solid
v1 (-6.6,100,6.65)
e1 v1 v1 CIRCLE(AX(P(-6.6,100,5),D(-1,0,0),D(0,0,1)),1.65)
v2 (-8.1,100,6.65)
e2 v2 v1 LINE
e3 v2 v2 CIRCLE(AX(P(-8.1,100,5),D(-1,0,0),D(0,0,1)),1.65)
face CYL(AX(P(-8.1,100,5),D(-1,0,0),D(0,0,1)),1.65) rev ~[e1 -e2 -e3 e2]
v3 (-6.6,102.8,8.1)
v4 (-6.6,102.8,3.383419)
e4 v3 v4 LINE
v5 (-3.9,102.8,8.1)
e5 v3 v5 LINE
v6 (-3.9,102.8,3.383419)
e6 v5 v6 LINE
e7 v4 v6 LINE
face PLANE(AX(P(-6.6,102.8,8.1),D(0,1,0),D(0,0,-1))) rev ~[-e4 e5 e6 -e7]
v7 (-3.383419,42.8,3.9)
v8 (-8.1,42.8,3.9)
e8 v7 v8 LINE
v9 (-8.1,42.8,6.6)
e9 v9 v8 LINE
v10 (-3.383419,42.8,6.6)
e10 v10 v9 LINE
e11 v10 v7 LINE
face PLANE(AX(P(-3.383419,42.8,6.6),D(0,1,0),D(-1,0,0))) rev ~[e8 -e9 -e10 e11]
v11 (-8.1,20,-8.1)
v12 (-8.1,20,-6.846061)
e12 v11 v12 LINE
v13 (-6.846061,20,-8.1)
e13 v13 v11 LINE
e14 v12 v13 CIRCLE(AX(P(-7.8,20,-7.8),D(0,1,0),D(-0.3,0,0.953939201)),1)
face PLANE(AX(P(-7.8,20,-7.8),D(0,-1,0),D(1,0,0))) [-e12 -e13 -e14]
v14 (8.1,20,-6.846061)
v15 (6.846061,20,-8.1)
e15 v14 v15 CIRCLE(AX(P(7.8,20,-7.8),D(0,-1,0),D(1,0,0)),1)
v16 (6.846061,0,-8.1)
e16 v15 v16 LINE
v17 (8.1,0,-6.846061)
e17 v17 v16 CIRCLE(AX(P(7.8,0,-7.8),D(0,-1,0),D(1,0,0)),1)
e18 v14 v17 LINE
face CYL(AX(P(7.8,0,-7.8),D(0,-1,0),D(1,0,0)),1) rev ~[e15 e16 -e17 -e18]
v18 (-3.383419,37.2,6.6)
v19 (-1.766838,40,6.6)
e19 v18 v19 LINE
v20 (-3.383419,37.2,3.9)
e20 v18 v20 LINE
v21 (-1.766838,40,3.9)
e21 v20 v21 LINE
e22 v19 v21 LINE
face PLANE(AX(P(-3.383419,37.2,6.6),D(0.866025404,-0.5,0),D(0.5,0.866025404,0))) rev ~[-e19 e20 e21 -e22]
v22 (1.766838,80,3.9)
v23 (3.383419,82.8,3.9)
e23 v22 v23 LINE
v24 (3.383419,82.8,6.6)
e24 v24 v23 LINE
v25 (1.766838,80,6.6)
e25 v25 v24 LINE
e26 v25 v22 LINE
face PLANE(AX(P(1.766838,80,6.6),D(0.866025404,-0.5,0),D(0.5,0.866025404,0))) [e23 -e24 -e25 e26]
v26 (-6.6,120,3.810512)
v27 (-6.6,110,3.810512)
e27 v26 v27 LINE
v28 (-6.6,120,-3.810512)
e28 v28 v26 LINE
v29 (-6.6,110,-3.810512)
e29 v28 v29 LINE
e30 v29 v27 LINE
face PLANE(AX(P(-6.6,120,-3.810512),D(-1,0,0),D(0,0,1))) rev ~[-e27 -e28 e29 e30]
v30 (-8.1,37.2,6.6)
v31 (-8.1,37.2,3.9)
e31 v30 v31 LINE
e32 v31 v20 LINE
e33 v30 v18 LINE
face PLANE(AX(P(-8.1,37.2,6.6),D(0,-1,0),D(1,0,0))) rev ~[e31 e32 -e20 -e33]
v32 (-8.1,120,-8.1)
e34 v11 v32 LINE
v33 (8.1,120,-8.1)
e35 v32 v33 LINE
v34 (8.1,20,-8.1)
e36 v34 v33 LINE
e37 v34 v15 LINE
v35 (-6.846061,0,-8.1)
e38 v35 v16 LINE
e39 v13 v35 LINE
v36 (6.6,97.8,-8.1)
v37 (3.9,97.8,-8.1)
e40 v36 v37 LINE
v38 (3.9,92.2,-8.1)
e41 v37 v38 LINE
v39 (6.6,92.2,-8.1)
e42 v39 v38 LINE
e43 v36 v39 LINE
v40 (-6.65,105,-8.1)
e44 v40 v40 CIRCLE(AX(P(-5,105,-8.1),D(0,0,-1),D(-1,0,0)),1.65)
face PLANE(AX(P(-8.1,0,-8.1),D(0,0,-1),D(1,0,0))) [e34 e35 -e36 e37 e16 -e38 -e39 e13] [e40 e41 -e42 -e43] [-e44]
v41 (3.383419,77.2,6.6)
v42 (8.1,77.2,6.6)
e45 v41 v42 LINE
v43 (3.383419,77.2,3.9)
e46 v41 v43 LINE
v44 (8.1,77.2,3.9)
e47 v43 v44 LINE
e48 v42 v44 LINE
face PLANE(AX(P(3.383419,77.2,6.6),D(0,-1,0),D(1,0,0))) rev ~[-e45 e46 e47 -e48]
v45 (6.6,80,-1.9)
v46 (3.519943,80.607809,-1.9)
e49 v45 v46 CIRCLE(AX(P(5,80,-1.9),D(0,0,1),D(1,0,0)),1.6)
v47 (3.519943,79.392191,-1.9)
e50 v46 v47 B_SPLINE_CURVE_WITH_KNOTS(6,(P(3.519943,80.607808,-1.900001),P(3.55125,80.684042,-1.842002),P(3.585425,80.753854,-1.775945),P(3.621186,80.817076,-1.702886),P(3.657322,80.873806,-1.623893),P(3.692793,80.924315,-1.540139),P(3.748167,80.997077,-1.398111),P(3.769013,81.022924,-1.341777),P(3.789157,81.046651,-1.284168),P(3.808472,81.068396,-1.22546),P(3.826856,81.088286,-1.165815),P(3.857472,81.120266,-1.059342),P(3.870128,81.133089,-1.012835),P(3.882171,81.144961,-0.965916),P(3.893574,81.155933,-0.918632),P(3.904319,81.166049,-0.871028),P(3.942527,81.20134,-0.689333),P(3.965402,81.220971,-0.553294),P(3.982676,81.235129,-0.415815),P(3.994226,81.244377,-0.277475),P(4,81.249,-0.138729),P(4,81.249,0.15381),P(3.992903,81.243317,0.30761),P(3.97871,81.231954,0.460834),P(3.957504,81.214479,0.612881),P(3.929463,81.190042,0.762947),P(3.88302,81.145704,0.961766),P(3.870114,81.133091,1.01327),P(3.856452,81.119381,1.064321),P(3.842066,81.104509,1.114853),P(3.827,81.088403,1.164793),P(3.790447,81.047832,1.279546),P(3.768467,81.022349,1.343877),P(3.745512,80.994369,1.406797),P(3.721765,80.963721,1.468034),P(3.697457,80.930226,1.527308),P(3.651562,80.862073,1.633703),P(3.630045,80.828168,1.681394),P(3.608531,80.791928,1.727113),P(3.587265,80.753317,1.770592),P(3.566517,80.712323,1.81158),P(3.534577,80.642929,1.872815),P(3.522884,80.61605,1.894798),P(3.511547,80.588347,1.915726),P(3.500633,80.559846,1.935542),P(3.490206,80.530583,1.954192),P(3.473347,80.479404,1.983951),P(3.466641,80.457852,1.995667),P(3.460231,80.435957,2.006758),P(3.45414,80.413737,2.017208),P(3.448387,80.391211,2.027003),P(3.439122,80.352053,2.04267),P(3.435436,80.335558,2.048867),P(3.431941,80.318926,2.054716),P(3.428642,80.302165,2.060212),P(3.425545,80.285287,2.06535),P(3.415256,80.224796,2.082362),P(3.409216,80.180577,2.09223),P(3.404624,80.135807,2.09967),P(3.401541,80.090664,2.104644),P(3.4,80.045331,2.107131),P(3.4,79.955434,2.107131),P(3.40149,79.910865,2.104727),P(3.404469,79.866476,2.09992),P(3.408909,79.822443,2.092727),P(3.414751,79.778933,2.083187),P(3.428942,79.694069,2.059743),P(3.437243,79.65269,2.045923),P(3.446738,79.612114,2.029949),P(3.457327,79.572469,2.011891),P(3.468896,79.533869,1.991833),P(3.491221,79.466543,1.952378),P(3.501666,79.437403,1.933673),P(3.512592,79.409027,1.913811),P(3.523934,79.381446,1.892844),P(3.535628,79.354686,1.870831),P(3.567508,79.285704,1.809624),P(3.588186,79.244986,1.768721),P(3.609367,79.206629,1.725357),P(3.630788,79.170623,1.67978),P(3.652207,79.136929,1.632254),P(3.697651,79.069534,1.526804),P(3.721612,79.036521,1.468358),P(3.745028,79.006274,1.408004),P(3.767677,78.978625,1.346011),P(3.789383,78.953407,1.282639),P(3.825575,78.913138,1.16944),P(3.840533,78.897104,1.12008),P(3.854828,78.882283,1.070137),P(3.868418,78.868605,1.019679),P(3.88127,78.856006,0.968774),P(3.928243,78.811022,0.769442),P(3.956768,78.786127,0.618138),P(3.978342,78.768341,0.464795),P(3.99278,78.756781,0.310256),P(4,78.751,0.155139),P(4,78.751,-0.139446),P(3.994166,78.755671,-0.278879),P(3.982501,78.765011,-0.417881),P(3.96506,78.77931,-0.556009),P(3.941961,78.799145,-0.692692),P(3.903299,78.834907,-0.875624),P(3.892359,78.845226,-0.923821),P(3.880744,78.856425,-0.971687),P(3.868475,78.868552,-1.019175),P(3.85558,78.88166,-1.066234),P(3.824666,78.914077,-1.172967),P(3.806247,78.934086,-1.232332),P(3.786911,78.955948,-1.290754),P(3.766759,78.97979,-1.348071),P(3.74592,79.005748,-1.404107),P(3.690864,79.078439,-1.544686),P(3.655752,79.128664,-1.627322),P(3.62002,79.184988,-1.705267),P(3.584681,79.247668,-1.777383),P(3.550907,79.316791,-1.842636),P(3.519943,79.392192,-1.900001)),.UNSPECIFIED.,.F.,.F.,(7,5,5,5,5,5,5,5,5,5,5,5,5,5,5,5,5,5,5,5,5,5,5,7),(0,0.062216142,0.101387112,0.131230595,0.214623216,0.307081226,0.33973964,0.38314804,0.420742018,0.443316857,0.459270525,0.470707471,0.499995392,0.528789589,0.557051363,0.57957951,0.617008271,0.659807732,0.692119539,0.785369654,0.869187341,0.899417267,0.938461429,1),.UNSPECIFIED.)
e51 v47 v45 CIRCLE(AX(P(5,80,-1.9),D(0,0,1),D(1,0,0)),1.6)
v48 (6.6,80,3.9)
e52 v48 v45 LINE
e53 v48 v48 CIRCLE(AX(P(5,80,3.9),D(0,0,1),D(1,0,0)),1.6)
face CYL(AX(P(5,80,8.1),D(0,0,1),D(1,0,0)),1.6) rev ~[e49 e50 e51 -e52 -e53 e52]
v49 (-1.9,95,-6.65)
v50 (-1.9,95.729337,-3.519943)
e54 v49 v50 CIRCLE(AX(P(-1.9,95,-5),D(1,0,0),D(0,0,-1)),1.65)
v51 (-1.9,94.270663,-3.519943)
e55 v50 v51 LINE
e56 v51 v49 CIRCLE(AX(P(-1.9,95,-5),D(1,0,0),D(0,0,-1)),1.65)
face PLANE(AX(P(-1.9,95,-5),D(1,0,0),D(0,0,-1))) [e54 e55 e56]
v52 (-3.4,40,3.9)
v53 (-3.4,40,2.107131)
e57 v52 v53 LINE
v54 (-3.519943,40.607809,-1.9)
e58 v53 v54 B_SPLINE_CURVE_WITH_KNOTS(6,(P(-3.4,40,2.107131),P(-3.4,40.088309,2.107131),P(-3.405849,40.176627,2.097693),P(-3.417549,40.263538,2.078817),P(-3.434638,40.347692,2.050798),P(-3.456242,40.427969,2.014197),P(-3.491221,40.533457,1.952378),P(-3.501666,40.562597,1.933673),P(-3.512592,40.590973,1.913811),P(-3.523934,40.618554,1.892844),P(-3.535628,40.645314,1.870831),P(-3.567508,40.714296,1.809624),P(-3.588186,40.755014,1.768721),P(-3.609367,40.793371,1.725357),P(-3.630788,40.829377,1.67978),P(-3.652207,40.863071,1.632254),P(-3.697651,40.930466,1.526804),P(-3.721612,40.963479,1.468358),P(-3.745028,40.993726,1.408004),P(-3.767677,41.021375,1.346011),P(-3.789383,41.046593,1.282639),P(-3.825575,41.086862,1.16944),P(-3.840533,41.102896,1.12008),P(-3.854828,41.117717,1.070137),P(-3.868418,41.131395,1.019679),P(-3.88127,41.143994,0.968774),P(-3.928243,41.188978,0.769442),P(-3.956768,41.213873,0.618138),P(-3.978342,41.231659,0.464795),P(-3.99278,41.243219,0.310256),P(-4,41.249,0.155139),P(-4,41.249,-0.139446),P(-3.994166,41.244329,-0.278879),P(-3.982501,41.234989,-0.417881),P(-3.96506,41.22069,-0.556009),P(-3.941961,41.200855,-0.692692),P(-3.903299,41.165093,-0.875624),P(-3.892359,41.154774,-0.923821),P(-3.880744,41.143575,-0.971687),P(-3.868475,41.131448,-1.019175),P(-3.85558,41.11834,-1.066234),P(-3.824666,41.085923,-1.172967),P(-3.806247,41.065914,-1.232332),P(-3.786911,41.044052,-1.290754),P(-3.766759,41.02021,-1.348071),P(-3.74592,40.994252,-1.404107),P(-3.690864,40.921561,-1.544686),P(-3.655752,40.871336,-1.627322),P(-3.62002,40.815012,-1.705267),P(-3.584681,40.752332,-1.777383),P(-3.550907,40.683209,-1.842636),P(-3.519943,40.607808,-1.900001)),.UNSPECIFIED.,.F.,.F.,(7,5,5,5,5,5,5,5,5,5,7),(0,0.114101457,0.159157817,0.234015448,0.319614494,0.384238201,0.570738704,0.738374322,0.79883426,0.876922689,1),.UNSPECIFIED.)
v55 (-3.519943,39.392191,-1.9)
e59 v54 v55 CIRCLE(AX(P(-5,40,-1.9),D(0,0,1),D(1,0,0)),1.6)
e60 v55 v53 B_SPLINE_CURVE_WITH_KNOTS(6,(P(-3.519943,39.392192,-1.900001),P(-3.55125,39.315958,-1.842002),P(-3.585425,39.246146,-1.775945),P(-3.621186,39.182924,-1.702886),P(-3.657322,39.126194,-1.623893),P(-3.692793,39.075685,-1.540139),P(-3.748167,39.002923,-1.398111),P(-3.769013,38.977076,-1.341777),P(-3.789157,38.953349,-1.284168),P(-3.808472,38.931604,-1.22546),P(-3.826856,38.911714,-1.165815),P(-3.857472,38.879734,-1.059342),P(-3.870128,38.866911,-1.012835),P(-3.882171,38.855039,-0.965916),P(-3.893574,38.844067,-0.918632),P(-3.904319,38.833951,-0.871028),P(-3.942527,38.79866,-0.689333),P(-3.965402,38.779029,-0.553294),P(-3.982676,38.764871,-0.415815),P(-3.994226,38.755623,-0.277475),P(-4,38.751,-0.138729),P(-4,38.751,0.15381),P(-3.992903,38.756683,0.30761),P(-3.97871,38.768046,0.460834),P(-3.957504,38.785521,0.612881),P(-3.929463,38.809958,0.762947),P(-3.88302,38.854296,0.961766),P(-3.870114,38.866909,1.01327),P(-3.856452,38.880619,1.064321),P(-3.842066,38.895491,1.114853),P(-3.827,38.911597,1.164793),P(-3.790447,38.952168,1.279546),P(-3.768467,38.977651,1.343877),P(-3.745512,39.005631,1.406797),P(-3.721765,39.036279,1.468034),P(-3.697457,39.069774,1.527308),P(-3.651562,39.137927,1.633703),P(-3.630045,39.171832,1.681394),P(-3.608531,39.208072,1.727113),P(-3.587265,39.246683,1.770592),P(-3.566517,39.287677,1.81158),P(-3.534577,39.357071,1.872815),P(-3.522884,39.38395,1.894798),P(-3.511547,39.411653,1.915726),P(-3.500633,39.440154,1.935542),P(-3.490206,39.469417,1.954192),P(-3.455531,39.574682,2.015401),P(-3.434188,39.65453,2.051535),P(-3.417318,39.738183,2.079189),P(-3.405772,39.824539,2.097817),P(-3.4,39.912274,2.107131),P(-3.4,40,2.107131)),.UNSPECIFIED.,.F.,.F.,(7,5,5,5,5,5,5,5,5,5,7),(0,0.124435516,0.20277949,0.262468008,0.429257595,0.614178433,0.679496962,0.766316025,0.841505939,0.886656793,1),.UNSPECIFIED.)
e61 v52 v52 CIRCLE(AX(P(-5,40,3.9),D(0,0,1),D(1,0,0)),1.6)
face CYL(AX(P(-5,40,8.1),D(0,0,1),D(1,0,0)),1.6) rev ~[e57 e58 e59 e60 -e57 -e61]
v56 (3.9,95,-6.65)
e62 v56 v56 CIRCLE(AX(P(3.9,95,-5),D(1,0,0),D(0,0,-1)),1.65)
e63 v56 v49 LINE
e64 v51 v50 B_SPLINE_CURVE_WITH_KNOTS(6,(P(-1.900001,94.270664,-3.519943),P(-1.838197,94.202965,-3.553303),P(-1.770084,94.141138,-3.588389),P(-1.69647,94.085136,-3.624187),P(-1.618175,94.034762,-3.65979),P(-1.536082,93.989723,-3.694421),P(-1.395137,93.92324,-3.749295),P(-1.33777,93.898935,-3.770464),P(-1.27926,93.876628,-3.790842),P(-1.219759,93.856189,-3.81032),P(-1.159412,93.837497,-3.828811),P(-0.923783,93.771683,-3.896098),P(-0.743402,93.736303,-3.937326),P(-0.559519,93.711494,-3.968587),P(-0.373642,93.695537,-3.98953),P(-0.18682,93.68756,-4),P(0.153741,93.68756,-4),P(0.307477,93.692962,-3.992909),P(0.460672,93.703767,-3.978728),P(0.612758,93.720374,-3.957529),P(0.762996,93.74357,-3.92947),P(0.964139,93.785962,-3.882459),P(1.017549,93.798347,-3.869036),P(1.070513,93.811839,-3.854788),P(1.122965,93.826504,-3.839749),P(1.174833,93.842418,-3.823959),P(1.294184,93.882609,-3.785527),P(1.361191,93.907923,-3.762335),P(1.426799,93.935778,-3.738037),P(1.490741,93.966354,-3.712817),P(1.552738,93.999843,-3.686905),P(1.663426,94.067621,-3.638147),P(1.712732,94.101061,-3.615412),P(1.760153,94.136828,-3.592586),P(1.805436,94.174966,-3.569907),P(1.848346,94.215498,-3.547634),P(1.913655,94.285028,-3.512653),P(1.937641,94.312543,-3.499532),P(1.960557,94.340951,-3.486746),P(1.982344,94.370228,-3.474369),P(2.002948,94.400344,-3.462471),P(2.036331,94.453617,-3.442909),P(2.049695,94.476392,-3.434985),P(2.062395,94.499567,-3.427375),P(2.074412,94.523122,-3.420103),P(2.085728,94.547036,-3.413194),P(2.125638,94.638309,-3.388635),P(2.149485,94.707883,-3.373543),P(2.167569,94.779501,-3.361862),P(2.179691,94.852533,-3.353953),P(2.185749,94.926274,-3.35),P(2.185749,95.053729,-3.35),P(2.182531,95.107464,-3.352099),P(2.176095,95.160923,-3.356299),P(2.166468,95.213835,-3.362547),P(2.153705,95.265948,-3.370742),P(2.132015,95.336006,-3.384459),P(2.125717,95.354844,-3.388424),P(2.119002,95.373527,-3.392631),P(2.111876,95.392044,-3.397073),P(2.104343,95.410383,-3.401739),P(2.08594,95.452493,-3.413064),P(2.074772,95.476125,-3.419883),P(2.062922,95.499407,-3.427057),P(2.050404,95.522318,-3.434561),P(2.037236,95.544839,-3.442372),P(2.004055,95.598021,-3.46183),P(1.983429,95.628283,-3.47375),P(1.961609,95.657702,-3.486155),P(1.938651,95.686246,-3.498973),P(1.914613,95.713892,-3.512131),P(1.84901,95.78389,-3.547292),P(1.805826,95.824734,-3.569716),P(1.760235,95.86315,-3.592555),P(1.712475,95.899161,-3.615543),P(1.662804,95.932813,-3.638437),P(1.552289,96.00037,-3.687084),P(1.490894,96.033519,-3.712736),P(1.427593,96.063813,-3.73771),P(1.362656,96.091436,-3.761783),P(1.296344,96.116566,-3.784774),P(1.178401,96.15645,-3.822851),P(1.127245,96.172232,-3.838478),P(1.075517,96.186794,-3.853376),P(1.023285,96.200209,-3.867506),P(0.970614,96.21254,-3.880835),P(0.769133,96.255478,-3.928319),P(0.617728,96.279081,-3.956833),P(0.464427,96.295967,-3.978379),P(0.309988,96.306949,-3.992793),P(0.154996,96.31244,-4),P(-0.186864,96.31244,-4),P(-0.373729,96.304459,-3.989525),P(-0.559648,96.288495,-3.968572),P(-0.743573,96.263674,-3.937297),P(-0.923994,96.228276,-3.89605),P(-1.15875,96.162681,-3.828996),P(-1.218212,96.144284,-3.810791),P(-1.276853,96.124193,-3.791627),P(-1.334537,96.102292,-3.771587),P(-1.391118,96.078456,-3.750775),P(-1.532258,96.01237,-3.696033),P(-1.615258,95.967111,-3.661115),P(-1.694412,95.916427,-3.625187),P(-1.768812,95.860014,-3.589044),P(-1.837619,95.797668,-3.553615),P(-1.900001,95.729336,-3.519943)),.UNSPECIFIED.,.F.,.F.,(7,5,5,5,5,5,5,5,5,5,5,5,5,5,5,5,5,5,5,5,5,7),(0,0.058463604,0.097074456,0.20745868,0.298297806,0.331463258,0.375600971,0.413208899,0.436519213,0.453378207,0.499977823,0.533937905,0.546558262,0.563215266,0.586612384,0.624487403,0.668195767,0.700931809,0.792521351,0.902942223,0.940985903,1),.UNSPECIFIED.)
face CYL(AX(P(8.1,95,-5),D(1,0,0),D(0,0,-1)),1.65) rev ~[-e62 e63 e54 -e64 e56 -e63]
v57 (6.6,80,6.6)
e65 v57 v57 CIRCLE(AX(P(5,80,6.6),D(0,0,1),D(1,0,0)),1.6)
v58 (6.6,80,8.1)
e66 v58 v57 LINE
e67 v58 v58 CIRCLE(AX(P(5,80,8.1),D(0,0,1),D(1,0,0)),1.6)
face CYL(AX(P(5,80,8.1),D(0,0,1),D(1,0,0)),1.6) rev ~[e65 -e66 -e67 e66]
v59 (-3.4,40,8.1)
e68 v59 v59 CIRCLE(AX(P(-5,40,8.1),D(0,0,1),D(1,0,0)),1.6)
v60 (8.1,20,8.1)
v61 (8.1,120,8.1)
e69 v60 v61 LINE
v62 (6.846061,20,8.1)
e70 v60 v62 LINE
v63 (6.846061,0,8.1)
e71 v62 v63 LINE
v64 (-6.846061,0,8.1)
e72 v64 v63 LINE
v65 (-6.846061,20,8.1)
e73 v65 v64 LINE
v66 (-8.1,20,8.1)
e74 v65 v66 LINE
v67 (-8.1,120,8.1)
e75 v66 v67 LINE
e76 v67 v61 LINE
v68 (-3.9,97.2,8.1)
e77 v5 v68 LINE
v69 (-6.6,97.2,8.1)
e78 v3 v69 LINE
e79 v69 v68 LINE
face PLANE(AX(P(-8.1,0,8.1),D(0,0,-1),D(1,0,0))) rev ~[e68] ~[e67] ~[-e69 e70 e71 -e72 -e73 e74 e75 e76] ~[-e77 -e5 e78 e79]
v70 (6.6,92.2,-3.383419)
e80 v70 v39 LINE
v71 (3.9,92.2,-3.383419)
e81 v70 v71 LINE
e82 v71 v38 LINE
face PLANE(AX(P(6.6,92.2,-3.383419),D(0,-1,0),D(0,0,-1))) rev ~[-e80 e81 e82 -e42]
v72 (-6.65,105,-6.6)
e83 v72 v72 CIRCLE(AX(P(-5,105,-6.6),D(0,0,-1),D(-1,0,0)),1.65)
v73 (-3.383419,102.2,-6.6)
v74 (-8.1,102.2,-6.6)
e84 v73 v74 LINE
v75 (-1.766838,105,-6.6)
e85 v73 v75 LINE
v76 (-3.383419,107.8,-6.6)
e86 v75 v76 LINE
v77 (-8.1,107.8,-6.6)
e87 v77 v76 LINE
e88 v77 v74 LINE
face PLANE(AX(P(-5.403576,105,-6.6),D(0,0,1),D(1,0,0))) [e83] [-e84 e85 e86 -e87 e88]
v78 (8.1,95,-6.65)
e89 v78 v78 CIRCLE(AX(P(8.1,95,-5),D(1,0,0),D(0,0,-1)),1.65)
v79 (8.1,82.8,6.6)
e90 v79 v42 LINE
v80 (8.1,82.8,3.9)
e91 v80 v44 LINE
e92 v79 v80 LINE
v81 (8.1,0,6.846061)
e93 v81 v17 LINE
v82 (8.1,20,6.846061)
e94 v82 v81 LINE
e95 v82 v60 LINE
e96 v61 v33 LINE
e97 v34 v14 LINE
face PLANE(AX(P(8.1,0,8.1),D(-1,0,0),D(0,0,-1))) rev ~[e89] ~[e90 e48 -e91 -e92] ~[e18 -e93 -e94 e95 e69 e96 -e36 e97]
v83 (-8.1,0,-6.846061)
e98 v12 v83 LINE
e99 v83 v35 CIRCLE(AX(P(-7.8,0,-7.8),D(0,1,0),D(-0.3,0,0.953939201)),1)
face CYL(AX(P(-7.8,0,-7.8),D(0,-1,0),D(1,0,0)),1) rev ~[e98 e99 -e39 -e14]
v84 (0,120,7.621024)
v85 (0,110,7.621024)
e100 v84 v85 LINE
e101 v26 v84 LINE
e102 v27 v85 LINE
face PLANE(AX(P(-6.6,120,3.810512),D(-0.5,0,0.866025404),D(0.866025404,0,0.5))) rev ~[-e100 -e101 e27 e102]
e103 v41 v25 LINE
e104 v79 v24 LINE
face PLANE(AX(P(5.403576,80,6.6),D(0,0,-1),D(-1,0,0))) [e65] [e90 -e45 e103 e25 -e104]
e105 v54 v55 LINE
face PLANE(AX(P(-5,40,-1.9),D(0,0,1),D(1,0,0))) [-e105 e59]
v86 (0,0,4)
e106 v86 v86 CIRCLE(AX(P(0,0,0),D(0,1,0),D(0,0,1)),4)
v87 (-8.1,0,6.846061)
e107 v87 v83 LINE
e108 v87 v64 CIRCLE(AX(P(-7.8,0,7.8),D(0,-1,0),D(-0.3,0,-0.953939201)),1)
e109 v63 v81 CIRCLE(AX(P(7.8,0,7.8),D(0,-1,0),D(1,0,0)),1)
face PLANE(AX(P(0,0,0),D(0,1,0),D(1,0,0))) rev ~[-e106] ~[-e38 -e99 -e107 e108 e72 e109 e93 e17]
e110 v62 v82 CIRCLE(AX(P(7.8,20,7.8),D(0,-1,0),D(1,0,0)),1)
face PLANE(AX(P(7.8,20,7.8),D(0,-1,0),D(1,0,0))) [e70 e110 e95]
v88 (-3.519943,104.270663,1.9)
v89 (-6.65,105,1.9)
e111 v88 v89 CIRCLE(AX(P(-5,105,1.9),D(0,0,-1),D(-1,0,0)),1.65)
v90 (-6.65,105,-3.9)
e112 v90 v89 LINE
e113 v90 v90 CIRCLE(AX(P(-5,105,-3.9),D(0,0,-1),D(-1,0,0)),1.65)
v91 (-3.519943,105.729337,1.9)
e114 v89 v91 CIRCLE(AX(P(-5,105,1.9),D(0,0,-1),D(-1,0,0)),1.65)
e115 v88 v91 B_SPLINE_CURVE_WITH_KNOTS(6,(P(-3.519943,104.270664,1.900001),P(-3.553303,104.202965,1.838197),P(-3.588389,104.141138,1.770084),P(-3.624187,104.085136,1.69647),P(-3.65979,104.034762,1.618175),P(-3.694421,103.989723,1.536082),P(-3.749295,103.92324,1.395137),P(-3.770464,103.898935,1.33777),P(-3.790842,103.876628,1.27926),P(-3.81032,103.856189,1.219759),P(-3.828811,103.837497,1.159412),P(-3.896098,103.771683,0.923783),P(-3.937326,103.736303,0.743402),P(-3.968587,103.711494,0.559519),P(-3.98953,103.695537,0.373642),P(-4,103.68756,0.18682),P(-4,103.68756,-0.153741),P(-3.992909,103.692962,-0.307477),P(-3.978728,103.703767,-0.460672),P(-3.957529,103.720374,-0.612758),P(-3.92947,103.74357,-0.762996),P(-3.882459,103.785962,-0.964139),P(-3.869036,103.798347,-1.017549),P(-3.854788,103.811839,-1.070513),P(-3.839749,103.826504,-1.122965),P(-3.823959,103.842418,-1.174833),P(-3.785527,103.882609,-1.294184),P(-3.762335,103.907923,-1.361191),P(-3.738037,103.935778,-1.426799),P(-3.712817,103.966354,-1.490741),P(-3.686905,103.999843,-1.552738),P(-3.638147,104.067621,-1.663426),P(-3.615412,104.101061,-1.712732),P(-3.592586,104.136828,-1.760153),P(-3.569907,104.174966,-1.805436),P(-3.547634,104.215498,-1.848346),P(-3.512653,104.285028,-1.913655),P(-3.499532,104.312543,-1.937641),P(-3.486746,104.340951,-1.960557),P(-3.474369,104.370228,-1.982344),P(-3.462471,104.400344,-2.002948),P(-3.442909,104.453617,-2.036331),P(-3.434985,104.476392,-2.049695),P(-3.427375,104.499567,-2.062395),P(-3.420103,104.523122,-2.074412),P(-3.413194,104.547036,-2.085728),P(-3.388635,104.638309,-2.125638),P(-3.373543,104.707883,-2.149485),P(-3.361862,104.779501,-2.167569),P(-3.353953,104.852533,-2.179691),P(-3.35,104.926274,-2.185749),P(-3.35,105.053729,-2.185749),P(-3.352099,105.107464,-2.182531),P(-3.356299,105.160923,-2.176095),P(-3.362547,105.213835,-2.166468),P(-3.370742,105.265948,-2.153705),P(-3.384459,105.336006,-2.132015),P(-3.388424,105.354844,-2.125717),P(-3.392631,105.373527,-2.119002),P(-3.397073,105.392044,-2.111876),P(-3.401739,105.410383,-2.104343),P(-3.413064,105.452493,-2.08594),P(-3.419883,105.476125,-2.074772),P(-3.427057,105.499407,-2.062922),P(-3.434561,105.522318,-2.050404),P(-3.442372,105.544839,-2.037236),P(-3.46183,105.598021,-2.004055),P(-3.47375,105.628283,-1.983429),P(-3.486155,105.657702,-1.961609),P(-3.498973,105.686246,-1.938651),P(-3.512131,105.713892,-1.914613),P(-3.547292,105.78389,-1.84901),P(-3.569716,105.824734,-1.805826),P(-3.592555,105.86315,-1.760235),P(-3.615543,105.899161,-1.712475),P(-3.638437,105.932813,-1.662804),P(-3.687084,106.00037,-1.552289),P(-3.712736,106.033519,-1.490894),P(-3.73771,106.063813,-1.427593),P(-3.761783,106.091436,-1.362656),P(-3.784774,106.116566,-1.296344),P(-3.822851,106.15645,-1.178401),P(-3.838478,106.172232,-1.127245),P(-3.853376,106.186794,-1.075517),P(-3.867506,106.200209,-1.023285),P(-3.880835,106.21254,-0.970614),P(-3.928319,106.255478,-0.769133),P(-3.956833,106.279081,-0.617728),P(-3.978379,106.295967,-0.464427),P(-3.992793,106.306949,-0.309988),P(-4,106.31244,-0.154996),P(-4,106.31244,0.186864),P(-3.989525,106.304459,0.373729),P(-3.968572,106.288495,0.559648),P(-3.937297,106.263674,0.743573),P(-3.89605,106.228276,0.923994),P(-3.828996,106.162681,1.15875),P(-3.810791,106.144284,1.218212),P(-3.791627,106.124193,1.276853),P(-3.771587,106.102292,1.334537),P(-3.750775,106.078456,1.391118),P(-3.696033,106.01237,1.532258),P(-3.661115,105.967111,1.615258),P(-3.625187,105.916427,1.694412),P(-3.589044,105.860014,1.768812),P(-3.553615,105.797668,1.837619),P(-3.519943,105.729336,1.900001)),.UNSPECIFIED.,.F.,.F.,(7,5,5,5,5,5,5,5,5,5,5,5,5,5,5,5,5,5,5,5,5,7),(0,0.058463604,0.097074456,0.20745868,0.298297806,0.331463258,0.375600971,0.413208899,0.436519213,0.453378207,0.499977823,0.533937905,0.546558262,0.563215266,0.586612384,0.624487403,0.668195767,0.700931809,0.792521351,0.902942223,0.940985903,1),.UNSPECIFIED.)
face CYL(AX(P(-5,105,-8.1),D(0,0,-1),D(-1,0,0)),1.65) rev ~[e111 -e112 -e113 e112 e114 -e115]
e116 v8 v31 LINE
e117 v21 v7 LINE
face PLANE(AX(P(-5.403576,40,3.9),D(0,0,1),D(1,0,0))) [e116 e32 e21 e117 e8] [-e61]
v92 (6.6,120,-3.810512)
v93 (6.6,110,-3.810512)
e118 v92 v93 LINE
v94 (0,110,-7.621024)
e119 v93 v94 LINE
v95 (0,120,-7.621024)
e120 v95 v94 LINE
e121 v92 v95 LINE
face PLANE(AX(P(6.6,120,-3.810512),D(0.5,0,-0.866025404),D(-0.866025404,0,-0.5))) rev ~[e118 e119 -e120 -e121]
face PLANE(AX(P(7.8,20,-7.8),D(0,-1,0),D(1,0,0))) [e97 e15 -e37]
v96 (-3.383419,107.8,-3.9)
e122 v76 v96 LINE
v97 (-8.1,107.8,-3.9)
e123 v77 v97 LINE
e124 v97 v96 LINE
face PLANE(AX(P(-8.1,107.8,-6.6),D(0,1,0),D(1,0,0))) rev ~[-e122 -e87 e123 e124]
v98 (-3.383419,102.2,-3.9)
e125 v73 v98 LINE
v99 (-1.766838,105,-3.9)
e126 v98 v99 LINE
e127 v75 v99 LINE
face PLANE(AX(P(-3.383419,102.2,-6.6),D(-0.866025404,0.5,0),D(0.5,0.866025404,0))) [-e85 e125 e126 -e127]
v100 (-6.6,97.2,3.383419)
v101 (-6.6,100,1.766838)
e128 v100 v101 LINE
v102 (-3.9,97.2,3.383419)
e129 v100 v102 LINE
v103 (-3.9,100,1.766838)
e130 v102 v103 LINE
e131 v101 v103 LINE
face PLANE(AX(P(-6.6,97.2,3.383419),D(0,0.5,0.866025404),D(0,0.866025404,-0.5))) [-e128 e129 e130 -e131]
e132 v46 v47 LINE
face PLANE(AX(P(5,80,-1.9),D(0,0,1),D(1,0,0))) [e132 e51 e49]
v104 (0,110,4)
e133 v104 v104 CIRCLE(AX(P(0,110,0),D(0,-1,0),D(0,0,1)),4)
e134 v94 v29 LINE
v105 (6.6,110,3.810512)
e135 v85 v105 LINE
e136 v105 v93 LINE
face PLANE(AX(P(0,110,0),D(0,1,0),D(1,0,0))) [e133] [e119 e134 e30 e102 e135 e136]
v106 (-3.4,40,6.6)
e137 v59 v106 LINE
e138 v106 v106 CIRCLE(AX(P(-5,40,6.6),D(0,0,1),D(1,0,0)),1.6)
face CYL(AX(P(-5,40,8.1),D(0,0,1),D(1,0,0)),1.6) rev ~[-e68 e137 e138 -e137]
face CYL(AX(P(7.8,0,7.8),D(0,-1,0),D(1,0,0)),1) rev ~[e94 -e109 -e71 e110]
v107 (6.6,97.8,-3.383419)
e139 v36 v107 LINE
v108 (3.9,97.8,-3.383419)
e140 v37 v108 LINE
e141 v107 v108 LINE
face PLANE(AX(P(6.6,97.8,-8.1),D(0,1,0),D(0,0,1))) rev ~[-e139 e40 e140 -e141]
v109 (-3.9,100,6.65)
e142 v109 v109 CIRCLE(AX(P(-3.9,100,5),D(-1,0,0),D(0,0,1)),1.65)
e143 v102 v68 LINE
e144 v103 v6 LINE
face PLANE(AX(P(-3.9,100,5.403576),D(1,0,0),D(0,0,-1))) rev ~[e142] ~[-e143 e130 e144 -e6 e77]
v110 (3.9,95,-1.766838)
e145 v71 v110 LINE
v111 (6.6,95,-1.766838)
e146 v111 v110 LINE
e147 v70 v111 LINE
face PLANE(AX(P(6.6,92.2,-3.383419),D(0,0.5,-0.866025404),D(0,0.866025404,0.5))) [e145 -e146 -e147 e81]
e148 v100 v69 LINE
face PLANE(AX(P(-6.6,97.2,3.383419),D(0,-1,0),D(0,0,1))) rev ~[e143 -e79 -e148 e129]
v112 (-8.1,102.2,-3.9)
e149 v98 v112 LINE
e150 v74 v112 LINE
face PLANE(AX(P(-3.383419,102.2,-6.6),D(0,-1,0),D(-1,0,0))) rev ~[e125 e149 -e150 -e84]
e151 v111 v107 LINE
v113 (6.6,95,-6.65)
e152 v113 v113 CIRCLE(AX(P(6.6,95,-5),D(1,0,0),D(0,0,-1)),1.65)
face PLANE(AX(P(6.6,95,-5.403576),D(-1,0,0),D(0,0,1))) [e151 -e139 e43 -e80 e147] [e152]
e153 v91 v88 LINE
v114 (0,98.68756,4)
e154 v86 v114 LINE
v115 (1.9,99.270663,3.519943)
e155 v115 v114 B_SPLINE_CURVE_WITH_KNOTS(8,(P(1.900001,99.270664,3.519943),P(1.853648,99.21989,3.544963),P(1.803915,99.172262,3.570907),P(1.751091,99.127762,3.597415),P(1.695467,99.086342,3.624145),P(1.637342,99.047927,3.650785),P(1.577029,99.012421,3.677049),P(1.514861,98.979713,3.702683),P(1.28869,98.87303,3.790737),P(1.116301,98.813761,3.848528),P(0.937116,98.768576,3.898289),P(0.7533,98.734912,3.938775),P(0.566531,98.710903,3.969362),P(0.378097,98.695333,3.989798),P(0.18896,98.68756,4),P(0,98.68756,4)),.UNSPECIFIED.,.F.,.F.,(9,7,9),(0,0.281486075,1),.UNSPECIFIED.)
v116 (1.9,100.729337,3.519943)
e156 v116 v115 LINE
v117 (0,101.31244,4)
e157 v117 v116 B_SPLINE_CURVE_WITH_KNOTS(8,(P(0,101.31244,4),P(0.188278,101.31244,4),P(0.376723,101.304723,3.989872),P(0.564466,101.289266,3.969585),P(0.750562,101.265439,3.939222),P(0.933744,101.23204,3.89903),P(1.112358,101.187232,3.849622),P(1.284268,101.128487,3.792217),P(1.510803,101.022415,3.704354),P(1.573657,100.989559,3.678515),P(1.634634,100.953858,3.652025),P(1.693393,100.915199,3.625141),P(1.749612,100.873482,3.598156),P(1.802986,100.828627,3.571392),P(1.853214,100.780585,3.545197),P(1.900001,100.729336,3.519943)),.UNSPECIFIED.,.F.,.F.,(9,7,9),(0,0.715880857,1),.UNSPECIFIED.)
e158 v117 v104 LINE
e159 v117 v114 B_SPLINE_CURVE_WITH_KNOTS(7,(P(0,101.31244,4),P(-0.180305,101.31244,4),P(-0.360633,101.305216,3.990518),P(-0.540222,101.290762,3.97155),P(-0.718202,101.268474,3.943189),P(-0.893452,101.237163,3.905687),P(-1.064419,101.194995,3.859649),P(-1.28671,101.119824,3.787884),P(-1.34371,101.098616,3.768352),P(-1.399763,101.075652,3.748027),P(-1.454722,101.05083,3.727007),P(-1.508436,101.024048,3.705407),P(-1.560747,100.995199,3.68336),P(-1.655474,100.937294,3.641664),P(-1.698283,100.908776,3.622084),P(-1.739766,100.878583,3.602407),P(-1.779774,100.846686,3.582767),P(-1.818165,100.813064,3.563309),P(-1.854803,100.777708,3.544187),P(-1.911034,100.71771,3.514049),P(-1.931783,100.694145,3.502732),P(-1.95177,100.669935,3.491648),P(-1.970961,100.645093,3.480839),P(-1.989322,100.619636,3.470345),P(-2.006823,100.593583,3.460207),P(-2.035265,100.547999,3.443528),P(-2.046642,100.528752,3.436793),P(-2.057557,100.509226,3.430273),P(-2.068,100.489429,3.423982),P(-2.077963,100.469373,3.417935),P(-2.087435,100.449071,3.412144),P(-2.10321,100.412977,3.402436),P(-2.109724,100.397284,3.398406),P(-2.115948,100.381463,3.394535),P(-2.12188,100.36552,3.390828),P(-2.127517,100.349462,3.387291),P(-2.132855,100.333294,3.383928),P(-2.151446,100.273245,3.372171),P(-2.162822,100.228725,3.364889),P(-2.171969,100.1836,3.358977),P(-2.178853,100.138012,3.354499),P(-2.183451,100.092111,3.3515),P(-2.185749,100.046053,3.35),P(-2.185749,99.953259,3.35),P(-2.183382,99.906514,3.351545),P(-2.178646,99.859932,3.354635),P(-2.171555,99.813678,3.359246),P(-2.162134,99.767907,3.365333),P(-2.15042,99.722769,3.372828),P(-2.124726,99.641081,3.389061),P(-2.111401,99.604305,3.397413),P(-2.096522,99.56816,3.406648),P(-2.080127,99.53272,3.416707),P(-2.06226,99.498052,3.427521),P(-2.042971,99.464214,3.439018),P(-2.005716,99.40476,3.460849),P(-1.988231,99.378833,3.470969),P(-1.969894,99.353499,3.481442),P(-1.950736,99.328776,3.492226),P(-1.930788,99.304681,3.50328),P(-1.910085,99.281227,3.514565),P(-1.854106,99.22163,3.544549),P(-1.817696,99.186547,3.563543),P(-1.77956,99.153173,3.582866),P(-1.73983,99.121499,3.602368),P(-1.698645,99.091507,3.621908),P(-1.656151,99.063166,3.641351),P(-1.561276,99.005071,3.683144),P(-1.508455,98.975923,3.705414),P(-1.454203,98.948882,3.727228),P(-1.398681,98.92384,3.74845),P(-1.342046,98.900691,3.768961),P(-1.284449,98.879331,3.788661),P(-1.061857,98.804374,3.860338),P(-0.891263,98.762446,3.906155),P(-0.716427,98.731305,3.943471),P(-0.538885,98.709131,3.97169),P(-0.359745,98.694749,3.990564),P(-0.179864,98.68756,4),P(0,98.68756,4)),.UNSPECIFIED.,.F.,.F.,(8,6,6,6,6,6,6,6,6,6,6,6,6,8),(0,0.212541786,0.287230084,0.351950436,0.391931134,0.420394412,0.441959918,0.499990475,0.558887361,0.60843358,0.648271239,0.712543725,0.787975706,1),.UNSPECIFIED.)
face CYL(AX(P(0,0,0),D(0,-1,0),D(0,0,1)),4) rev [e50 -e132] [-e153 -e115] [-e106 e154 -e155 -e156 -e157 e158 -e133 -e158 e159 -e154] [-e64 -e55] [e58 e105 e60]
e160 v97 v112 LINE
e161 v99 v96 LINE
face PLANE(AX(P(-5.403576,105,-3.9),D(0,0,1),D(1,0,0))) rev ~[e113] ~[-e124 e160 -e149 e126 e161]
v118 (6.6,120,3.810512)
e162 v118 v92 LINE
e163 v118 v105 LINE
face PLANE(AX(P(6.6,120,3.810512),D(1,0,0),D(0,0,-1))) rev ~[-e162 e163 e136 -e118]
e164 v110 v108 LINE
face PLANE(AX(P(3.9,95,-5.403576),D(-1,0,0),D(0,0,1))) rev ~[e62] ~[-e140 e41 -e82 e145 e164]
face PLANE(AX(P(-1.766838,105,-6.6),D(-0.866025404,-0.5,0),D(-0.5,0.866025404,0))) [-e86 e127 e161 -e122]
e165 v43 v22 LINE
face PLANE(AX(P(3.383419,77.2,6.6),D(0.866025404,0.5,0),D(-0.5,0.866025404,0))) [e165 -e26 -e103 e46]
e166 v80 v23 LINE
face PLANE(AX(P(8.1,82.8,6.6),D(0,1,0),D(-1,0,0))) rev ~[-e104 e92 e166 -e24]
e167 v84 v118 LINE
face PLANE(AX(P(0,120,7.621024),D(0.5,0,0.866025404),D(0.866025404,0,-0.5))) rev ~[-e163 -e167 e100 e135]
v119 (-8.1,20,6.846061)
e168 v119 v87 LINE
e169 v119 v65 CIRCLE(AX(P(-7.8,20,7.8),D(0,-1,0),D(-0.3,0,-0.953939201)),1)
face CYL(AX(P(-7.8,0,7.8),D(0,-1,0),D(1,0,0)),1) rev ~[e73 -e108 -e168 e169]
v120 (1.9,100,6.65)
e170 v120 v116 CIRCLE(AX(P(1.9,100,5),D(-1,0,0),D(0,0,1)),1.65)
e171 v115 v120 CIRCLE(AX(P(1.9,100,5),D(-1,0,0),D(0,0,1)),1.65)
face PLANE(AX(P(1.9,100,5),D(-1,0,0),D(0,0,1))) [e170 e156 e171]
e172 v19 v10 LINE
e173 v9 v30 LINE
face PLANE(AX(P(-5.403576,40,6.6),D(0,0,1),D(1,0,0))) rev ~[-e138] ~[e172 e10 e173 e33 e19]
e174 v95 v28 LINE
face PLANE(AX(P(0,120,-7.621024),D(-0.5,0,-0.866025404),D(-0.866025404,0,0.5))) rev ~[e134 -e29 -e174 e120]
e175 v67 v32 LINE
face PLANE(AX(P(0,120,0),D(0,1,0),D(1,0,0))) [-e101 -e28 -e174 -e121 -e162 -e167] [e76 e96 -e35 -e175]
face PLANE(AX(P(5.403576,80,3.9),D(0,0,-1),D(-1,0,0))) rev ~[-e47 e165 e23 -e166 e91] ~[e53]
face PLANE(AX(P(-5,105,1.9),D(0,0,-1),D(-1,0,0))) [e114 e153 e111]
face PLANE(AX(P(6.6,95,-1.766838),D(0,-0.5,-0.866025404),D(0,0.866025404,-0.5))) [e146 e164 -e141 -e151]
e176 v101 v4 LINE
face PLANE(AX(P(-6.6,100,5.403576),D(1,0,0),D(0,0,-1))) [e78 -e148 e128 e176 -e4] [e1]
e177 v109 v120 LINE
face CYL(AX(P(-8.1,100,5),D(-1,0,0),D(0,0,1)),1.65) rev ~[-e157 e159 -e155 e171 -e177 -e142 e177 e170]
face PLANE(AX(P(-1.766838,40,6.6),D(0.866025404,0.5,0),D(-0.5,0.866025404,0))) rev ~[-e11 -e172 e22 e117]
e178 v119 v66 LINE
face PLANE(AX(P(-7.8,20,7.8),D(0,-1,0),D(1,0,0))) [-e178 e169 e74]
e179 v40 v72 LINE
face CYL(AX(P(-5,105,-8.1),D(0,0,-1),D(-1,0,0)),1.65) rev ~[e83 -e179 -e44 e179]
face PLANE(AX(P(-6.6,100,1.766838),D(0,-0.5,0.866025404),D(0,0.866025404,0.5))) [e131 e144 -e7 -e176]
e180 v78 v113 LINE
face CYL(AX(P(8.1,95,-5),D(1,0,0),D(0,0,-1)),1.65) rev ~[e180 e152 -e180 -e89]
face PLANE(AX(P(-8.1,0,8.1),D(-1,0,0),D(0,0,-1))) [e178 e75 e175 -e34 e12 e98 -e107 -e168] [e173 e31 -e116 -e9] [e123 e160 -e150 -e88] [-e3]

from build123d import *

# Parameters (mm, degrees)
SKETCH_1_W           = 16.2
SKETCH_1_H           = 16.2
SKETCH_1_R           = 4
EXTRUDE_1_DEPTH      = 120
SKETCH_2_R           = 1
CUT_EXTRUDE_1_DEPTH  = 20
CUT_EXTRUDE_2_DEPTH  = 10
SKETCH_4_R           = 1.6
CUT_EXTRUDE_3_DEPTH  = 10
CUT_EXTRUDE_4_DEPTH  = 2.7
SKETCH_6_R           = 1.65
CUT_EXTRUDE_5_DEPTH  = 10
CUT_EXTRUDE_6_DEPTH  = 2.7
SKETCH_9_R           = 1.65
CUT_EXTRUDE_7_DEPTH  = 10
CUT_EXTRUDE_8_DEPTH  = 2.7
SKETCH_11_R          = 1.65
CUT_EXTRUDE_9_DEPTH  = 10
CUT_EXTRUDE_10_DEPTH = 2.7


with BuildPart() as part:
    # Эскиз1 → Бобышка-Вытянуть1 (new body)
    with BuildSketch(Plane(origin=(0, 0, 0), x_dir=(1, 0, 0), z_dir=(0, 1, 0))):
        Rectangle(SKETCH_1_W, SKETCH_1_H)
        with Locations(Location((0, 0, 0), (0, 0, 270))):
            Circle(SKETCH_1_R, mode=Mode.SUBTRACT)
    extrude(amount=EXTRUDE_1_DEPTH)

    # Эскиз2 → Вырез-Вытянуть1 (cut)
    with BuildSketch(Plane.XZ):
        with Locations((-7.8, -7.8)):
            Circle(SKETCH_2_R)
        with Locations((-7.8, 7.8)):
            Circle(SKETCH_2_R)
        with Locations((7.8, 7.8)):
            Circle(SKETCH_2_R)
        with Locations((7.8, -7.8)):
            Circle(SKETCH_2_R)
    extrude(amount=-CUT_EXTRUDE_1_DEPTH, mode=Mode.SUBTRACT)

    # Эскиз3 → Вырез-Вытянуть2 (cut)
    with BuildSketch(Plane(origin=(0, 120, 0), x_dir=(1, 0, 0), z_dir=(0, 1, 0))):
        Polygon((0, 7.621023553), (-6.6, 3.810511777), (-6.6, -3.810511777), (0, -7.621023553), (6.6, -3.810511777), (6.6, 3.810511777), align=None)
    extrude(amount=-CUT_EXTRUDE_2_DEPTH, mode=Mode.SUBTRACT)

    # Эскиз4 → Вырез-Вытянуть3 (cut)
    with BuildSketch(Plane.XY.offset(8.1)):
        with Locations((-5, 40)):
            Circle(SKETCH_4_R)
        with Locations((5, 80)):
            Circle(SKETCH_4_R)
    extrude(amount=-CUT_EXTRUDE_3_DEPTH, mode=Mode.SUBTRACT)

    # Эскиз5 → Вырез-Вытянуть4 (cut)
    with BuildSketch(Plane.XY.offset(6.6)):
        Polygon((-6.616580754, 42.8), (-8.1, 42.8), (-8.1, 37.2), (-6.616580754, 37.2), (-3.383419246, 37.2), (-1.766838493, 40), (-3.383419246, 42.8), align=None)
        Polygon((6.616580754, 82.8), (8.1, 82.8), (8.1, 77.2), (6.616580754, 77.2), (3.383419246, 77.2), (1.766838493, 80), (3.383419246, 82.8), align=None)
    extrude(amount=-CUT_EXTRUDE_4_DEPTH, mode=Mode.SUBTRACT)

    # Эскиз6 → Вырез-Вытянуть5 (cut)
    with BuildSketch(Plane(origin=(0, 0, -8.1), x_dir=(-1, 0, 0), z_dir=(0, 0, -1))):
        with Locations((5, 105)):
            Circle(SKETCH_6_R)
    extrude(amount=-CUT_EXTRUDE_5_DEPTH, mode=Mode.SUBTRACT)

    # Эскиз7 → Вырез-Вытянуть6 (cut)
    with BuildSketch(Plane(origin=(0, 0, -6.6), x_dir=(-1, 0, 0), z_dir=(0, 0, -1))):
        Polygon((6.616580754, 107.8), (8.1, 107.8), (8.1, 102.2), (6.616580754, 102.2), (3.383419246, 102.2), (1.766838493, 105), (3.383419246, 107.8), align=None)
    extrude(amount=-CUT_EXTRUDE_6_DEPTH, mode=Mode.SUBTRACT)

    # Эскиз9 → Вырез-Вытянуть7 (cut)
    with BuildSketch(Plane.ZY.offset(8.1)):
        with Locations((5, 100)):
            Circle(SKETCH_9_R)
    extrude(amount=-CUT_EXTRUDE_7_DEPTH, mode=Mode.SUBTRACT)

    # Эскиз10 → Вырез-Вытянуть8 (cut)
    with BuildSketch(Plane.ZY.offset(6.6)):
        Polygon((6.616580754, 102.8), (8.1, 102.8), (8.1, 97.2), (6.616580754, 97.2), (3.383419246, 97.2), (1.766838493, 100), (3.383419246, 102.8), align=None)
    extrude(amount=-CUT_EXTRUDE_8_DEPTH, mode=Mode.SUBTRACT)

    # Эскиз11 → Вырез-Вытянуть9 (cut)
    with BuildSketch(Plane(origin=(8.1, 0, 0), x_dir=(0, 0, -1), z_dir=(1, 0, 0))):
        with Locations((5, 95)):
            Circle(SKETCH_11_R)
    extrude(amount=-CUT_EXTRUDE_9_DEPTH, mode=Mode.SUBTRACT)

    # Эскиз12 → Вырез-Вытянуть10 (cut)
    with BuildSketch(Plane(origin=(6.6, 0, 0), x_dir=(0, 0, -1), z_dir=(1, 0, 0))):
        Polygon((6.616580754, 97.8), (8.1, 97.8), (8.1, 92.2), (6.616580754, 92.2), (3.383419246, 92.2), (1.766838493, 95), (3.383419246, 97.8), align=None)
    extrude(amount=-CUT_EXTRUDE_10_DEPTH, mode=Mode.SUBTRACT)


solid = part.part
